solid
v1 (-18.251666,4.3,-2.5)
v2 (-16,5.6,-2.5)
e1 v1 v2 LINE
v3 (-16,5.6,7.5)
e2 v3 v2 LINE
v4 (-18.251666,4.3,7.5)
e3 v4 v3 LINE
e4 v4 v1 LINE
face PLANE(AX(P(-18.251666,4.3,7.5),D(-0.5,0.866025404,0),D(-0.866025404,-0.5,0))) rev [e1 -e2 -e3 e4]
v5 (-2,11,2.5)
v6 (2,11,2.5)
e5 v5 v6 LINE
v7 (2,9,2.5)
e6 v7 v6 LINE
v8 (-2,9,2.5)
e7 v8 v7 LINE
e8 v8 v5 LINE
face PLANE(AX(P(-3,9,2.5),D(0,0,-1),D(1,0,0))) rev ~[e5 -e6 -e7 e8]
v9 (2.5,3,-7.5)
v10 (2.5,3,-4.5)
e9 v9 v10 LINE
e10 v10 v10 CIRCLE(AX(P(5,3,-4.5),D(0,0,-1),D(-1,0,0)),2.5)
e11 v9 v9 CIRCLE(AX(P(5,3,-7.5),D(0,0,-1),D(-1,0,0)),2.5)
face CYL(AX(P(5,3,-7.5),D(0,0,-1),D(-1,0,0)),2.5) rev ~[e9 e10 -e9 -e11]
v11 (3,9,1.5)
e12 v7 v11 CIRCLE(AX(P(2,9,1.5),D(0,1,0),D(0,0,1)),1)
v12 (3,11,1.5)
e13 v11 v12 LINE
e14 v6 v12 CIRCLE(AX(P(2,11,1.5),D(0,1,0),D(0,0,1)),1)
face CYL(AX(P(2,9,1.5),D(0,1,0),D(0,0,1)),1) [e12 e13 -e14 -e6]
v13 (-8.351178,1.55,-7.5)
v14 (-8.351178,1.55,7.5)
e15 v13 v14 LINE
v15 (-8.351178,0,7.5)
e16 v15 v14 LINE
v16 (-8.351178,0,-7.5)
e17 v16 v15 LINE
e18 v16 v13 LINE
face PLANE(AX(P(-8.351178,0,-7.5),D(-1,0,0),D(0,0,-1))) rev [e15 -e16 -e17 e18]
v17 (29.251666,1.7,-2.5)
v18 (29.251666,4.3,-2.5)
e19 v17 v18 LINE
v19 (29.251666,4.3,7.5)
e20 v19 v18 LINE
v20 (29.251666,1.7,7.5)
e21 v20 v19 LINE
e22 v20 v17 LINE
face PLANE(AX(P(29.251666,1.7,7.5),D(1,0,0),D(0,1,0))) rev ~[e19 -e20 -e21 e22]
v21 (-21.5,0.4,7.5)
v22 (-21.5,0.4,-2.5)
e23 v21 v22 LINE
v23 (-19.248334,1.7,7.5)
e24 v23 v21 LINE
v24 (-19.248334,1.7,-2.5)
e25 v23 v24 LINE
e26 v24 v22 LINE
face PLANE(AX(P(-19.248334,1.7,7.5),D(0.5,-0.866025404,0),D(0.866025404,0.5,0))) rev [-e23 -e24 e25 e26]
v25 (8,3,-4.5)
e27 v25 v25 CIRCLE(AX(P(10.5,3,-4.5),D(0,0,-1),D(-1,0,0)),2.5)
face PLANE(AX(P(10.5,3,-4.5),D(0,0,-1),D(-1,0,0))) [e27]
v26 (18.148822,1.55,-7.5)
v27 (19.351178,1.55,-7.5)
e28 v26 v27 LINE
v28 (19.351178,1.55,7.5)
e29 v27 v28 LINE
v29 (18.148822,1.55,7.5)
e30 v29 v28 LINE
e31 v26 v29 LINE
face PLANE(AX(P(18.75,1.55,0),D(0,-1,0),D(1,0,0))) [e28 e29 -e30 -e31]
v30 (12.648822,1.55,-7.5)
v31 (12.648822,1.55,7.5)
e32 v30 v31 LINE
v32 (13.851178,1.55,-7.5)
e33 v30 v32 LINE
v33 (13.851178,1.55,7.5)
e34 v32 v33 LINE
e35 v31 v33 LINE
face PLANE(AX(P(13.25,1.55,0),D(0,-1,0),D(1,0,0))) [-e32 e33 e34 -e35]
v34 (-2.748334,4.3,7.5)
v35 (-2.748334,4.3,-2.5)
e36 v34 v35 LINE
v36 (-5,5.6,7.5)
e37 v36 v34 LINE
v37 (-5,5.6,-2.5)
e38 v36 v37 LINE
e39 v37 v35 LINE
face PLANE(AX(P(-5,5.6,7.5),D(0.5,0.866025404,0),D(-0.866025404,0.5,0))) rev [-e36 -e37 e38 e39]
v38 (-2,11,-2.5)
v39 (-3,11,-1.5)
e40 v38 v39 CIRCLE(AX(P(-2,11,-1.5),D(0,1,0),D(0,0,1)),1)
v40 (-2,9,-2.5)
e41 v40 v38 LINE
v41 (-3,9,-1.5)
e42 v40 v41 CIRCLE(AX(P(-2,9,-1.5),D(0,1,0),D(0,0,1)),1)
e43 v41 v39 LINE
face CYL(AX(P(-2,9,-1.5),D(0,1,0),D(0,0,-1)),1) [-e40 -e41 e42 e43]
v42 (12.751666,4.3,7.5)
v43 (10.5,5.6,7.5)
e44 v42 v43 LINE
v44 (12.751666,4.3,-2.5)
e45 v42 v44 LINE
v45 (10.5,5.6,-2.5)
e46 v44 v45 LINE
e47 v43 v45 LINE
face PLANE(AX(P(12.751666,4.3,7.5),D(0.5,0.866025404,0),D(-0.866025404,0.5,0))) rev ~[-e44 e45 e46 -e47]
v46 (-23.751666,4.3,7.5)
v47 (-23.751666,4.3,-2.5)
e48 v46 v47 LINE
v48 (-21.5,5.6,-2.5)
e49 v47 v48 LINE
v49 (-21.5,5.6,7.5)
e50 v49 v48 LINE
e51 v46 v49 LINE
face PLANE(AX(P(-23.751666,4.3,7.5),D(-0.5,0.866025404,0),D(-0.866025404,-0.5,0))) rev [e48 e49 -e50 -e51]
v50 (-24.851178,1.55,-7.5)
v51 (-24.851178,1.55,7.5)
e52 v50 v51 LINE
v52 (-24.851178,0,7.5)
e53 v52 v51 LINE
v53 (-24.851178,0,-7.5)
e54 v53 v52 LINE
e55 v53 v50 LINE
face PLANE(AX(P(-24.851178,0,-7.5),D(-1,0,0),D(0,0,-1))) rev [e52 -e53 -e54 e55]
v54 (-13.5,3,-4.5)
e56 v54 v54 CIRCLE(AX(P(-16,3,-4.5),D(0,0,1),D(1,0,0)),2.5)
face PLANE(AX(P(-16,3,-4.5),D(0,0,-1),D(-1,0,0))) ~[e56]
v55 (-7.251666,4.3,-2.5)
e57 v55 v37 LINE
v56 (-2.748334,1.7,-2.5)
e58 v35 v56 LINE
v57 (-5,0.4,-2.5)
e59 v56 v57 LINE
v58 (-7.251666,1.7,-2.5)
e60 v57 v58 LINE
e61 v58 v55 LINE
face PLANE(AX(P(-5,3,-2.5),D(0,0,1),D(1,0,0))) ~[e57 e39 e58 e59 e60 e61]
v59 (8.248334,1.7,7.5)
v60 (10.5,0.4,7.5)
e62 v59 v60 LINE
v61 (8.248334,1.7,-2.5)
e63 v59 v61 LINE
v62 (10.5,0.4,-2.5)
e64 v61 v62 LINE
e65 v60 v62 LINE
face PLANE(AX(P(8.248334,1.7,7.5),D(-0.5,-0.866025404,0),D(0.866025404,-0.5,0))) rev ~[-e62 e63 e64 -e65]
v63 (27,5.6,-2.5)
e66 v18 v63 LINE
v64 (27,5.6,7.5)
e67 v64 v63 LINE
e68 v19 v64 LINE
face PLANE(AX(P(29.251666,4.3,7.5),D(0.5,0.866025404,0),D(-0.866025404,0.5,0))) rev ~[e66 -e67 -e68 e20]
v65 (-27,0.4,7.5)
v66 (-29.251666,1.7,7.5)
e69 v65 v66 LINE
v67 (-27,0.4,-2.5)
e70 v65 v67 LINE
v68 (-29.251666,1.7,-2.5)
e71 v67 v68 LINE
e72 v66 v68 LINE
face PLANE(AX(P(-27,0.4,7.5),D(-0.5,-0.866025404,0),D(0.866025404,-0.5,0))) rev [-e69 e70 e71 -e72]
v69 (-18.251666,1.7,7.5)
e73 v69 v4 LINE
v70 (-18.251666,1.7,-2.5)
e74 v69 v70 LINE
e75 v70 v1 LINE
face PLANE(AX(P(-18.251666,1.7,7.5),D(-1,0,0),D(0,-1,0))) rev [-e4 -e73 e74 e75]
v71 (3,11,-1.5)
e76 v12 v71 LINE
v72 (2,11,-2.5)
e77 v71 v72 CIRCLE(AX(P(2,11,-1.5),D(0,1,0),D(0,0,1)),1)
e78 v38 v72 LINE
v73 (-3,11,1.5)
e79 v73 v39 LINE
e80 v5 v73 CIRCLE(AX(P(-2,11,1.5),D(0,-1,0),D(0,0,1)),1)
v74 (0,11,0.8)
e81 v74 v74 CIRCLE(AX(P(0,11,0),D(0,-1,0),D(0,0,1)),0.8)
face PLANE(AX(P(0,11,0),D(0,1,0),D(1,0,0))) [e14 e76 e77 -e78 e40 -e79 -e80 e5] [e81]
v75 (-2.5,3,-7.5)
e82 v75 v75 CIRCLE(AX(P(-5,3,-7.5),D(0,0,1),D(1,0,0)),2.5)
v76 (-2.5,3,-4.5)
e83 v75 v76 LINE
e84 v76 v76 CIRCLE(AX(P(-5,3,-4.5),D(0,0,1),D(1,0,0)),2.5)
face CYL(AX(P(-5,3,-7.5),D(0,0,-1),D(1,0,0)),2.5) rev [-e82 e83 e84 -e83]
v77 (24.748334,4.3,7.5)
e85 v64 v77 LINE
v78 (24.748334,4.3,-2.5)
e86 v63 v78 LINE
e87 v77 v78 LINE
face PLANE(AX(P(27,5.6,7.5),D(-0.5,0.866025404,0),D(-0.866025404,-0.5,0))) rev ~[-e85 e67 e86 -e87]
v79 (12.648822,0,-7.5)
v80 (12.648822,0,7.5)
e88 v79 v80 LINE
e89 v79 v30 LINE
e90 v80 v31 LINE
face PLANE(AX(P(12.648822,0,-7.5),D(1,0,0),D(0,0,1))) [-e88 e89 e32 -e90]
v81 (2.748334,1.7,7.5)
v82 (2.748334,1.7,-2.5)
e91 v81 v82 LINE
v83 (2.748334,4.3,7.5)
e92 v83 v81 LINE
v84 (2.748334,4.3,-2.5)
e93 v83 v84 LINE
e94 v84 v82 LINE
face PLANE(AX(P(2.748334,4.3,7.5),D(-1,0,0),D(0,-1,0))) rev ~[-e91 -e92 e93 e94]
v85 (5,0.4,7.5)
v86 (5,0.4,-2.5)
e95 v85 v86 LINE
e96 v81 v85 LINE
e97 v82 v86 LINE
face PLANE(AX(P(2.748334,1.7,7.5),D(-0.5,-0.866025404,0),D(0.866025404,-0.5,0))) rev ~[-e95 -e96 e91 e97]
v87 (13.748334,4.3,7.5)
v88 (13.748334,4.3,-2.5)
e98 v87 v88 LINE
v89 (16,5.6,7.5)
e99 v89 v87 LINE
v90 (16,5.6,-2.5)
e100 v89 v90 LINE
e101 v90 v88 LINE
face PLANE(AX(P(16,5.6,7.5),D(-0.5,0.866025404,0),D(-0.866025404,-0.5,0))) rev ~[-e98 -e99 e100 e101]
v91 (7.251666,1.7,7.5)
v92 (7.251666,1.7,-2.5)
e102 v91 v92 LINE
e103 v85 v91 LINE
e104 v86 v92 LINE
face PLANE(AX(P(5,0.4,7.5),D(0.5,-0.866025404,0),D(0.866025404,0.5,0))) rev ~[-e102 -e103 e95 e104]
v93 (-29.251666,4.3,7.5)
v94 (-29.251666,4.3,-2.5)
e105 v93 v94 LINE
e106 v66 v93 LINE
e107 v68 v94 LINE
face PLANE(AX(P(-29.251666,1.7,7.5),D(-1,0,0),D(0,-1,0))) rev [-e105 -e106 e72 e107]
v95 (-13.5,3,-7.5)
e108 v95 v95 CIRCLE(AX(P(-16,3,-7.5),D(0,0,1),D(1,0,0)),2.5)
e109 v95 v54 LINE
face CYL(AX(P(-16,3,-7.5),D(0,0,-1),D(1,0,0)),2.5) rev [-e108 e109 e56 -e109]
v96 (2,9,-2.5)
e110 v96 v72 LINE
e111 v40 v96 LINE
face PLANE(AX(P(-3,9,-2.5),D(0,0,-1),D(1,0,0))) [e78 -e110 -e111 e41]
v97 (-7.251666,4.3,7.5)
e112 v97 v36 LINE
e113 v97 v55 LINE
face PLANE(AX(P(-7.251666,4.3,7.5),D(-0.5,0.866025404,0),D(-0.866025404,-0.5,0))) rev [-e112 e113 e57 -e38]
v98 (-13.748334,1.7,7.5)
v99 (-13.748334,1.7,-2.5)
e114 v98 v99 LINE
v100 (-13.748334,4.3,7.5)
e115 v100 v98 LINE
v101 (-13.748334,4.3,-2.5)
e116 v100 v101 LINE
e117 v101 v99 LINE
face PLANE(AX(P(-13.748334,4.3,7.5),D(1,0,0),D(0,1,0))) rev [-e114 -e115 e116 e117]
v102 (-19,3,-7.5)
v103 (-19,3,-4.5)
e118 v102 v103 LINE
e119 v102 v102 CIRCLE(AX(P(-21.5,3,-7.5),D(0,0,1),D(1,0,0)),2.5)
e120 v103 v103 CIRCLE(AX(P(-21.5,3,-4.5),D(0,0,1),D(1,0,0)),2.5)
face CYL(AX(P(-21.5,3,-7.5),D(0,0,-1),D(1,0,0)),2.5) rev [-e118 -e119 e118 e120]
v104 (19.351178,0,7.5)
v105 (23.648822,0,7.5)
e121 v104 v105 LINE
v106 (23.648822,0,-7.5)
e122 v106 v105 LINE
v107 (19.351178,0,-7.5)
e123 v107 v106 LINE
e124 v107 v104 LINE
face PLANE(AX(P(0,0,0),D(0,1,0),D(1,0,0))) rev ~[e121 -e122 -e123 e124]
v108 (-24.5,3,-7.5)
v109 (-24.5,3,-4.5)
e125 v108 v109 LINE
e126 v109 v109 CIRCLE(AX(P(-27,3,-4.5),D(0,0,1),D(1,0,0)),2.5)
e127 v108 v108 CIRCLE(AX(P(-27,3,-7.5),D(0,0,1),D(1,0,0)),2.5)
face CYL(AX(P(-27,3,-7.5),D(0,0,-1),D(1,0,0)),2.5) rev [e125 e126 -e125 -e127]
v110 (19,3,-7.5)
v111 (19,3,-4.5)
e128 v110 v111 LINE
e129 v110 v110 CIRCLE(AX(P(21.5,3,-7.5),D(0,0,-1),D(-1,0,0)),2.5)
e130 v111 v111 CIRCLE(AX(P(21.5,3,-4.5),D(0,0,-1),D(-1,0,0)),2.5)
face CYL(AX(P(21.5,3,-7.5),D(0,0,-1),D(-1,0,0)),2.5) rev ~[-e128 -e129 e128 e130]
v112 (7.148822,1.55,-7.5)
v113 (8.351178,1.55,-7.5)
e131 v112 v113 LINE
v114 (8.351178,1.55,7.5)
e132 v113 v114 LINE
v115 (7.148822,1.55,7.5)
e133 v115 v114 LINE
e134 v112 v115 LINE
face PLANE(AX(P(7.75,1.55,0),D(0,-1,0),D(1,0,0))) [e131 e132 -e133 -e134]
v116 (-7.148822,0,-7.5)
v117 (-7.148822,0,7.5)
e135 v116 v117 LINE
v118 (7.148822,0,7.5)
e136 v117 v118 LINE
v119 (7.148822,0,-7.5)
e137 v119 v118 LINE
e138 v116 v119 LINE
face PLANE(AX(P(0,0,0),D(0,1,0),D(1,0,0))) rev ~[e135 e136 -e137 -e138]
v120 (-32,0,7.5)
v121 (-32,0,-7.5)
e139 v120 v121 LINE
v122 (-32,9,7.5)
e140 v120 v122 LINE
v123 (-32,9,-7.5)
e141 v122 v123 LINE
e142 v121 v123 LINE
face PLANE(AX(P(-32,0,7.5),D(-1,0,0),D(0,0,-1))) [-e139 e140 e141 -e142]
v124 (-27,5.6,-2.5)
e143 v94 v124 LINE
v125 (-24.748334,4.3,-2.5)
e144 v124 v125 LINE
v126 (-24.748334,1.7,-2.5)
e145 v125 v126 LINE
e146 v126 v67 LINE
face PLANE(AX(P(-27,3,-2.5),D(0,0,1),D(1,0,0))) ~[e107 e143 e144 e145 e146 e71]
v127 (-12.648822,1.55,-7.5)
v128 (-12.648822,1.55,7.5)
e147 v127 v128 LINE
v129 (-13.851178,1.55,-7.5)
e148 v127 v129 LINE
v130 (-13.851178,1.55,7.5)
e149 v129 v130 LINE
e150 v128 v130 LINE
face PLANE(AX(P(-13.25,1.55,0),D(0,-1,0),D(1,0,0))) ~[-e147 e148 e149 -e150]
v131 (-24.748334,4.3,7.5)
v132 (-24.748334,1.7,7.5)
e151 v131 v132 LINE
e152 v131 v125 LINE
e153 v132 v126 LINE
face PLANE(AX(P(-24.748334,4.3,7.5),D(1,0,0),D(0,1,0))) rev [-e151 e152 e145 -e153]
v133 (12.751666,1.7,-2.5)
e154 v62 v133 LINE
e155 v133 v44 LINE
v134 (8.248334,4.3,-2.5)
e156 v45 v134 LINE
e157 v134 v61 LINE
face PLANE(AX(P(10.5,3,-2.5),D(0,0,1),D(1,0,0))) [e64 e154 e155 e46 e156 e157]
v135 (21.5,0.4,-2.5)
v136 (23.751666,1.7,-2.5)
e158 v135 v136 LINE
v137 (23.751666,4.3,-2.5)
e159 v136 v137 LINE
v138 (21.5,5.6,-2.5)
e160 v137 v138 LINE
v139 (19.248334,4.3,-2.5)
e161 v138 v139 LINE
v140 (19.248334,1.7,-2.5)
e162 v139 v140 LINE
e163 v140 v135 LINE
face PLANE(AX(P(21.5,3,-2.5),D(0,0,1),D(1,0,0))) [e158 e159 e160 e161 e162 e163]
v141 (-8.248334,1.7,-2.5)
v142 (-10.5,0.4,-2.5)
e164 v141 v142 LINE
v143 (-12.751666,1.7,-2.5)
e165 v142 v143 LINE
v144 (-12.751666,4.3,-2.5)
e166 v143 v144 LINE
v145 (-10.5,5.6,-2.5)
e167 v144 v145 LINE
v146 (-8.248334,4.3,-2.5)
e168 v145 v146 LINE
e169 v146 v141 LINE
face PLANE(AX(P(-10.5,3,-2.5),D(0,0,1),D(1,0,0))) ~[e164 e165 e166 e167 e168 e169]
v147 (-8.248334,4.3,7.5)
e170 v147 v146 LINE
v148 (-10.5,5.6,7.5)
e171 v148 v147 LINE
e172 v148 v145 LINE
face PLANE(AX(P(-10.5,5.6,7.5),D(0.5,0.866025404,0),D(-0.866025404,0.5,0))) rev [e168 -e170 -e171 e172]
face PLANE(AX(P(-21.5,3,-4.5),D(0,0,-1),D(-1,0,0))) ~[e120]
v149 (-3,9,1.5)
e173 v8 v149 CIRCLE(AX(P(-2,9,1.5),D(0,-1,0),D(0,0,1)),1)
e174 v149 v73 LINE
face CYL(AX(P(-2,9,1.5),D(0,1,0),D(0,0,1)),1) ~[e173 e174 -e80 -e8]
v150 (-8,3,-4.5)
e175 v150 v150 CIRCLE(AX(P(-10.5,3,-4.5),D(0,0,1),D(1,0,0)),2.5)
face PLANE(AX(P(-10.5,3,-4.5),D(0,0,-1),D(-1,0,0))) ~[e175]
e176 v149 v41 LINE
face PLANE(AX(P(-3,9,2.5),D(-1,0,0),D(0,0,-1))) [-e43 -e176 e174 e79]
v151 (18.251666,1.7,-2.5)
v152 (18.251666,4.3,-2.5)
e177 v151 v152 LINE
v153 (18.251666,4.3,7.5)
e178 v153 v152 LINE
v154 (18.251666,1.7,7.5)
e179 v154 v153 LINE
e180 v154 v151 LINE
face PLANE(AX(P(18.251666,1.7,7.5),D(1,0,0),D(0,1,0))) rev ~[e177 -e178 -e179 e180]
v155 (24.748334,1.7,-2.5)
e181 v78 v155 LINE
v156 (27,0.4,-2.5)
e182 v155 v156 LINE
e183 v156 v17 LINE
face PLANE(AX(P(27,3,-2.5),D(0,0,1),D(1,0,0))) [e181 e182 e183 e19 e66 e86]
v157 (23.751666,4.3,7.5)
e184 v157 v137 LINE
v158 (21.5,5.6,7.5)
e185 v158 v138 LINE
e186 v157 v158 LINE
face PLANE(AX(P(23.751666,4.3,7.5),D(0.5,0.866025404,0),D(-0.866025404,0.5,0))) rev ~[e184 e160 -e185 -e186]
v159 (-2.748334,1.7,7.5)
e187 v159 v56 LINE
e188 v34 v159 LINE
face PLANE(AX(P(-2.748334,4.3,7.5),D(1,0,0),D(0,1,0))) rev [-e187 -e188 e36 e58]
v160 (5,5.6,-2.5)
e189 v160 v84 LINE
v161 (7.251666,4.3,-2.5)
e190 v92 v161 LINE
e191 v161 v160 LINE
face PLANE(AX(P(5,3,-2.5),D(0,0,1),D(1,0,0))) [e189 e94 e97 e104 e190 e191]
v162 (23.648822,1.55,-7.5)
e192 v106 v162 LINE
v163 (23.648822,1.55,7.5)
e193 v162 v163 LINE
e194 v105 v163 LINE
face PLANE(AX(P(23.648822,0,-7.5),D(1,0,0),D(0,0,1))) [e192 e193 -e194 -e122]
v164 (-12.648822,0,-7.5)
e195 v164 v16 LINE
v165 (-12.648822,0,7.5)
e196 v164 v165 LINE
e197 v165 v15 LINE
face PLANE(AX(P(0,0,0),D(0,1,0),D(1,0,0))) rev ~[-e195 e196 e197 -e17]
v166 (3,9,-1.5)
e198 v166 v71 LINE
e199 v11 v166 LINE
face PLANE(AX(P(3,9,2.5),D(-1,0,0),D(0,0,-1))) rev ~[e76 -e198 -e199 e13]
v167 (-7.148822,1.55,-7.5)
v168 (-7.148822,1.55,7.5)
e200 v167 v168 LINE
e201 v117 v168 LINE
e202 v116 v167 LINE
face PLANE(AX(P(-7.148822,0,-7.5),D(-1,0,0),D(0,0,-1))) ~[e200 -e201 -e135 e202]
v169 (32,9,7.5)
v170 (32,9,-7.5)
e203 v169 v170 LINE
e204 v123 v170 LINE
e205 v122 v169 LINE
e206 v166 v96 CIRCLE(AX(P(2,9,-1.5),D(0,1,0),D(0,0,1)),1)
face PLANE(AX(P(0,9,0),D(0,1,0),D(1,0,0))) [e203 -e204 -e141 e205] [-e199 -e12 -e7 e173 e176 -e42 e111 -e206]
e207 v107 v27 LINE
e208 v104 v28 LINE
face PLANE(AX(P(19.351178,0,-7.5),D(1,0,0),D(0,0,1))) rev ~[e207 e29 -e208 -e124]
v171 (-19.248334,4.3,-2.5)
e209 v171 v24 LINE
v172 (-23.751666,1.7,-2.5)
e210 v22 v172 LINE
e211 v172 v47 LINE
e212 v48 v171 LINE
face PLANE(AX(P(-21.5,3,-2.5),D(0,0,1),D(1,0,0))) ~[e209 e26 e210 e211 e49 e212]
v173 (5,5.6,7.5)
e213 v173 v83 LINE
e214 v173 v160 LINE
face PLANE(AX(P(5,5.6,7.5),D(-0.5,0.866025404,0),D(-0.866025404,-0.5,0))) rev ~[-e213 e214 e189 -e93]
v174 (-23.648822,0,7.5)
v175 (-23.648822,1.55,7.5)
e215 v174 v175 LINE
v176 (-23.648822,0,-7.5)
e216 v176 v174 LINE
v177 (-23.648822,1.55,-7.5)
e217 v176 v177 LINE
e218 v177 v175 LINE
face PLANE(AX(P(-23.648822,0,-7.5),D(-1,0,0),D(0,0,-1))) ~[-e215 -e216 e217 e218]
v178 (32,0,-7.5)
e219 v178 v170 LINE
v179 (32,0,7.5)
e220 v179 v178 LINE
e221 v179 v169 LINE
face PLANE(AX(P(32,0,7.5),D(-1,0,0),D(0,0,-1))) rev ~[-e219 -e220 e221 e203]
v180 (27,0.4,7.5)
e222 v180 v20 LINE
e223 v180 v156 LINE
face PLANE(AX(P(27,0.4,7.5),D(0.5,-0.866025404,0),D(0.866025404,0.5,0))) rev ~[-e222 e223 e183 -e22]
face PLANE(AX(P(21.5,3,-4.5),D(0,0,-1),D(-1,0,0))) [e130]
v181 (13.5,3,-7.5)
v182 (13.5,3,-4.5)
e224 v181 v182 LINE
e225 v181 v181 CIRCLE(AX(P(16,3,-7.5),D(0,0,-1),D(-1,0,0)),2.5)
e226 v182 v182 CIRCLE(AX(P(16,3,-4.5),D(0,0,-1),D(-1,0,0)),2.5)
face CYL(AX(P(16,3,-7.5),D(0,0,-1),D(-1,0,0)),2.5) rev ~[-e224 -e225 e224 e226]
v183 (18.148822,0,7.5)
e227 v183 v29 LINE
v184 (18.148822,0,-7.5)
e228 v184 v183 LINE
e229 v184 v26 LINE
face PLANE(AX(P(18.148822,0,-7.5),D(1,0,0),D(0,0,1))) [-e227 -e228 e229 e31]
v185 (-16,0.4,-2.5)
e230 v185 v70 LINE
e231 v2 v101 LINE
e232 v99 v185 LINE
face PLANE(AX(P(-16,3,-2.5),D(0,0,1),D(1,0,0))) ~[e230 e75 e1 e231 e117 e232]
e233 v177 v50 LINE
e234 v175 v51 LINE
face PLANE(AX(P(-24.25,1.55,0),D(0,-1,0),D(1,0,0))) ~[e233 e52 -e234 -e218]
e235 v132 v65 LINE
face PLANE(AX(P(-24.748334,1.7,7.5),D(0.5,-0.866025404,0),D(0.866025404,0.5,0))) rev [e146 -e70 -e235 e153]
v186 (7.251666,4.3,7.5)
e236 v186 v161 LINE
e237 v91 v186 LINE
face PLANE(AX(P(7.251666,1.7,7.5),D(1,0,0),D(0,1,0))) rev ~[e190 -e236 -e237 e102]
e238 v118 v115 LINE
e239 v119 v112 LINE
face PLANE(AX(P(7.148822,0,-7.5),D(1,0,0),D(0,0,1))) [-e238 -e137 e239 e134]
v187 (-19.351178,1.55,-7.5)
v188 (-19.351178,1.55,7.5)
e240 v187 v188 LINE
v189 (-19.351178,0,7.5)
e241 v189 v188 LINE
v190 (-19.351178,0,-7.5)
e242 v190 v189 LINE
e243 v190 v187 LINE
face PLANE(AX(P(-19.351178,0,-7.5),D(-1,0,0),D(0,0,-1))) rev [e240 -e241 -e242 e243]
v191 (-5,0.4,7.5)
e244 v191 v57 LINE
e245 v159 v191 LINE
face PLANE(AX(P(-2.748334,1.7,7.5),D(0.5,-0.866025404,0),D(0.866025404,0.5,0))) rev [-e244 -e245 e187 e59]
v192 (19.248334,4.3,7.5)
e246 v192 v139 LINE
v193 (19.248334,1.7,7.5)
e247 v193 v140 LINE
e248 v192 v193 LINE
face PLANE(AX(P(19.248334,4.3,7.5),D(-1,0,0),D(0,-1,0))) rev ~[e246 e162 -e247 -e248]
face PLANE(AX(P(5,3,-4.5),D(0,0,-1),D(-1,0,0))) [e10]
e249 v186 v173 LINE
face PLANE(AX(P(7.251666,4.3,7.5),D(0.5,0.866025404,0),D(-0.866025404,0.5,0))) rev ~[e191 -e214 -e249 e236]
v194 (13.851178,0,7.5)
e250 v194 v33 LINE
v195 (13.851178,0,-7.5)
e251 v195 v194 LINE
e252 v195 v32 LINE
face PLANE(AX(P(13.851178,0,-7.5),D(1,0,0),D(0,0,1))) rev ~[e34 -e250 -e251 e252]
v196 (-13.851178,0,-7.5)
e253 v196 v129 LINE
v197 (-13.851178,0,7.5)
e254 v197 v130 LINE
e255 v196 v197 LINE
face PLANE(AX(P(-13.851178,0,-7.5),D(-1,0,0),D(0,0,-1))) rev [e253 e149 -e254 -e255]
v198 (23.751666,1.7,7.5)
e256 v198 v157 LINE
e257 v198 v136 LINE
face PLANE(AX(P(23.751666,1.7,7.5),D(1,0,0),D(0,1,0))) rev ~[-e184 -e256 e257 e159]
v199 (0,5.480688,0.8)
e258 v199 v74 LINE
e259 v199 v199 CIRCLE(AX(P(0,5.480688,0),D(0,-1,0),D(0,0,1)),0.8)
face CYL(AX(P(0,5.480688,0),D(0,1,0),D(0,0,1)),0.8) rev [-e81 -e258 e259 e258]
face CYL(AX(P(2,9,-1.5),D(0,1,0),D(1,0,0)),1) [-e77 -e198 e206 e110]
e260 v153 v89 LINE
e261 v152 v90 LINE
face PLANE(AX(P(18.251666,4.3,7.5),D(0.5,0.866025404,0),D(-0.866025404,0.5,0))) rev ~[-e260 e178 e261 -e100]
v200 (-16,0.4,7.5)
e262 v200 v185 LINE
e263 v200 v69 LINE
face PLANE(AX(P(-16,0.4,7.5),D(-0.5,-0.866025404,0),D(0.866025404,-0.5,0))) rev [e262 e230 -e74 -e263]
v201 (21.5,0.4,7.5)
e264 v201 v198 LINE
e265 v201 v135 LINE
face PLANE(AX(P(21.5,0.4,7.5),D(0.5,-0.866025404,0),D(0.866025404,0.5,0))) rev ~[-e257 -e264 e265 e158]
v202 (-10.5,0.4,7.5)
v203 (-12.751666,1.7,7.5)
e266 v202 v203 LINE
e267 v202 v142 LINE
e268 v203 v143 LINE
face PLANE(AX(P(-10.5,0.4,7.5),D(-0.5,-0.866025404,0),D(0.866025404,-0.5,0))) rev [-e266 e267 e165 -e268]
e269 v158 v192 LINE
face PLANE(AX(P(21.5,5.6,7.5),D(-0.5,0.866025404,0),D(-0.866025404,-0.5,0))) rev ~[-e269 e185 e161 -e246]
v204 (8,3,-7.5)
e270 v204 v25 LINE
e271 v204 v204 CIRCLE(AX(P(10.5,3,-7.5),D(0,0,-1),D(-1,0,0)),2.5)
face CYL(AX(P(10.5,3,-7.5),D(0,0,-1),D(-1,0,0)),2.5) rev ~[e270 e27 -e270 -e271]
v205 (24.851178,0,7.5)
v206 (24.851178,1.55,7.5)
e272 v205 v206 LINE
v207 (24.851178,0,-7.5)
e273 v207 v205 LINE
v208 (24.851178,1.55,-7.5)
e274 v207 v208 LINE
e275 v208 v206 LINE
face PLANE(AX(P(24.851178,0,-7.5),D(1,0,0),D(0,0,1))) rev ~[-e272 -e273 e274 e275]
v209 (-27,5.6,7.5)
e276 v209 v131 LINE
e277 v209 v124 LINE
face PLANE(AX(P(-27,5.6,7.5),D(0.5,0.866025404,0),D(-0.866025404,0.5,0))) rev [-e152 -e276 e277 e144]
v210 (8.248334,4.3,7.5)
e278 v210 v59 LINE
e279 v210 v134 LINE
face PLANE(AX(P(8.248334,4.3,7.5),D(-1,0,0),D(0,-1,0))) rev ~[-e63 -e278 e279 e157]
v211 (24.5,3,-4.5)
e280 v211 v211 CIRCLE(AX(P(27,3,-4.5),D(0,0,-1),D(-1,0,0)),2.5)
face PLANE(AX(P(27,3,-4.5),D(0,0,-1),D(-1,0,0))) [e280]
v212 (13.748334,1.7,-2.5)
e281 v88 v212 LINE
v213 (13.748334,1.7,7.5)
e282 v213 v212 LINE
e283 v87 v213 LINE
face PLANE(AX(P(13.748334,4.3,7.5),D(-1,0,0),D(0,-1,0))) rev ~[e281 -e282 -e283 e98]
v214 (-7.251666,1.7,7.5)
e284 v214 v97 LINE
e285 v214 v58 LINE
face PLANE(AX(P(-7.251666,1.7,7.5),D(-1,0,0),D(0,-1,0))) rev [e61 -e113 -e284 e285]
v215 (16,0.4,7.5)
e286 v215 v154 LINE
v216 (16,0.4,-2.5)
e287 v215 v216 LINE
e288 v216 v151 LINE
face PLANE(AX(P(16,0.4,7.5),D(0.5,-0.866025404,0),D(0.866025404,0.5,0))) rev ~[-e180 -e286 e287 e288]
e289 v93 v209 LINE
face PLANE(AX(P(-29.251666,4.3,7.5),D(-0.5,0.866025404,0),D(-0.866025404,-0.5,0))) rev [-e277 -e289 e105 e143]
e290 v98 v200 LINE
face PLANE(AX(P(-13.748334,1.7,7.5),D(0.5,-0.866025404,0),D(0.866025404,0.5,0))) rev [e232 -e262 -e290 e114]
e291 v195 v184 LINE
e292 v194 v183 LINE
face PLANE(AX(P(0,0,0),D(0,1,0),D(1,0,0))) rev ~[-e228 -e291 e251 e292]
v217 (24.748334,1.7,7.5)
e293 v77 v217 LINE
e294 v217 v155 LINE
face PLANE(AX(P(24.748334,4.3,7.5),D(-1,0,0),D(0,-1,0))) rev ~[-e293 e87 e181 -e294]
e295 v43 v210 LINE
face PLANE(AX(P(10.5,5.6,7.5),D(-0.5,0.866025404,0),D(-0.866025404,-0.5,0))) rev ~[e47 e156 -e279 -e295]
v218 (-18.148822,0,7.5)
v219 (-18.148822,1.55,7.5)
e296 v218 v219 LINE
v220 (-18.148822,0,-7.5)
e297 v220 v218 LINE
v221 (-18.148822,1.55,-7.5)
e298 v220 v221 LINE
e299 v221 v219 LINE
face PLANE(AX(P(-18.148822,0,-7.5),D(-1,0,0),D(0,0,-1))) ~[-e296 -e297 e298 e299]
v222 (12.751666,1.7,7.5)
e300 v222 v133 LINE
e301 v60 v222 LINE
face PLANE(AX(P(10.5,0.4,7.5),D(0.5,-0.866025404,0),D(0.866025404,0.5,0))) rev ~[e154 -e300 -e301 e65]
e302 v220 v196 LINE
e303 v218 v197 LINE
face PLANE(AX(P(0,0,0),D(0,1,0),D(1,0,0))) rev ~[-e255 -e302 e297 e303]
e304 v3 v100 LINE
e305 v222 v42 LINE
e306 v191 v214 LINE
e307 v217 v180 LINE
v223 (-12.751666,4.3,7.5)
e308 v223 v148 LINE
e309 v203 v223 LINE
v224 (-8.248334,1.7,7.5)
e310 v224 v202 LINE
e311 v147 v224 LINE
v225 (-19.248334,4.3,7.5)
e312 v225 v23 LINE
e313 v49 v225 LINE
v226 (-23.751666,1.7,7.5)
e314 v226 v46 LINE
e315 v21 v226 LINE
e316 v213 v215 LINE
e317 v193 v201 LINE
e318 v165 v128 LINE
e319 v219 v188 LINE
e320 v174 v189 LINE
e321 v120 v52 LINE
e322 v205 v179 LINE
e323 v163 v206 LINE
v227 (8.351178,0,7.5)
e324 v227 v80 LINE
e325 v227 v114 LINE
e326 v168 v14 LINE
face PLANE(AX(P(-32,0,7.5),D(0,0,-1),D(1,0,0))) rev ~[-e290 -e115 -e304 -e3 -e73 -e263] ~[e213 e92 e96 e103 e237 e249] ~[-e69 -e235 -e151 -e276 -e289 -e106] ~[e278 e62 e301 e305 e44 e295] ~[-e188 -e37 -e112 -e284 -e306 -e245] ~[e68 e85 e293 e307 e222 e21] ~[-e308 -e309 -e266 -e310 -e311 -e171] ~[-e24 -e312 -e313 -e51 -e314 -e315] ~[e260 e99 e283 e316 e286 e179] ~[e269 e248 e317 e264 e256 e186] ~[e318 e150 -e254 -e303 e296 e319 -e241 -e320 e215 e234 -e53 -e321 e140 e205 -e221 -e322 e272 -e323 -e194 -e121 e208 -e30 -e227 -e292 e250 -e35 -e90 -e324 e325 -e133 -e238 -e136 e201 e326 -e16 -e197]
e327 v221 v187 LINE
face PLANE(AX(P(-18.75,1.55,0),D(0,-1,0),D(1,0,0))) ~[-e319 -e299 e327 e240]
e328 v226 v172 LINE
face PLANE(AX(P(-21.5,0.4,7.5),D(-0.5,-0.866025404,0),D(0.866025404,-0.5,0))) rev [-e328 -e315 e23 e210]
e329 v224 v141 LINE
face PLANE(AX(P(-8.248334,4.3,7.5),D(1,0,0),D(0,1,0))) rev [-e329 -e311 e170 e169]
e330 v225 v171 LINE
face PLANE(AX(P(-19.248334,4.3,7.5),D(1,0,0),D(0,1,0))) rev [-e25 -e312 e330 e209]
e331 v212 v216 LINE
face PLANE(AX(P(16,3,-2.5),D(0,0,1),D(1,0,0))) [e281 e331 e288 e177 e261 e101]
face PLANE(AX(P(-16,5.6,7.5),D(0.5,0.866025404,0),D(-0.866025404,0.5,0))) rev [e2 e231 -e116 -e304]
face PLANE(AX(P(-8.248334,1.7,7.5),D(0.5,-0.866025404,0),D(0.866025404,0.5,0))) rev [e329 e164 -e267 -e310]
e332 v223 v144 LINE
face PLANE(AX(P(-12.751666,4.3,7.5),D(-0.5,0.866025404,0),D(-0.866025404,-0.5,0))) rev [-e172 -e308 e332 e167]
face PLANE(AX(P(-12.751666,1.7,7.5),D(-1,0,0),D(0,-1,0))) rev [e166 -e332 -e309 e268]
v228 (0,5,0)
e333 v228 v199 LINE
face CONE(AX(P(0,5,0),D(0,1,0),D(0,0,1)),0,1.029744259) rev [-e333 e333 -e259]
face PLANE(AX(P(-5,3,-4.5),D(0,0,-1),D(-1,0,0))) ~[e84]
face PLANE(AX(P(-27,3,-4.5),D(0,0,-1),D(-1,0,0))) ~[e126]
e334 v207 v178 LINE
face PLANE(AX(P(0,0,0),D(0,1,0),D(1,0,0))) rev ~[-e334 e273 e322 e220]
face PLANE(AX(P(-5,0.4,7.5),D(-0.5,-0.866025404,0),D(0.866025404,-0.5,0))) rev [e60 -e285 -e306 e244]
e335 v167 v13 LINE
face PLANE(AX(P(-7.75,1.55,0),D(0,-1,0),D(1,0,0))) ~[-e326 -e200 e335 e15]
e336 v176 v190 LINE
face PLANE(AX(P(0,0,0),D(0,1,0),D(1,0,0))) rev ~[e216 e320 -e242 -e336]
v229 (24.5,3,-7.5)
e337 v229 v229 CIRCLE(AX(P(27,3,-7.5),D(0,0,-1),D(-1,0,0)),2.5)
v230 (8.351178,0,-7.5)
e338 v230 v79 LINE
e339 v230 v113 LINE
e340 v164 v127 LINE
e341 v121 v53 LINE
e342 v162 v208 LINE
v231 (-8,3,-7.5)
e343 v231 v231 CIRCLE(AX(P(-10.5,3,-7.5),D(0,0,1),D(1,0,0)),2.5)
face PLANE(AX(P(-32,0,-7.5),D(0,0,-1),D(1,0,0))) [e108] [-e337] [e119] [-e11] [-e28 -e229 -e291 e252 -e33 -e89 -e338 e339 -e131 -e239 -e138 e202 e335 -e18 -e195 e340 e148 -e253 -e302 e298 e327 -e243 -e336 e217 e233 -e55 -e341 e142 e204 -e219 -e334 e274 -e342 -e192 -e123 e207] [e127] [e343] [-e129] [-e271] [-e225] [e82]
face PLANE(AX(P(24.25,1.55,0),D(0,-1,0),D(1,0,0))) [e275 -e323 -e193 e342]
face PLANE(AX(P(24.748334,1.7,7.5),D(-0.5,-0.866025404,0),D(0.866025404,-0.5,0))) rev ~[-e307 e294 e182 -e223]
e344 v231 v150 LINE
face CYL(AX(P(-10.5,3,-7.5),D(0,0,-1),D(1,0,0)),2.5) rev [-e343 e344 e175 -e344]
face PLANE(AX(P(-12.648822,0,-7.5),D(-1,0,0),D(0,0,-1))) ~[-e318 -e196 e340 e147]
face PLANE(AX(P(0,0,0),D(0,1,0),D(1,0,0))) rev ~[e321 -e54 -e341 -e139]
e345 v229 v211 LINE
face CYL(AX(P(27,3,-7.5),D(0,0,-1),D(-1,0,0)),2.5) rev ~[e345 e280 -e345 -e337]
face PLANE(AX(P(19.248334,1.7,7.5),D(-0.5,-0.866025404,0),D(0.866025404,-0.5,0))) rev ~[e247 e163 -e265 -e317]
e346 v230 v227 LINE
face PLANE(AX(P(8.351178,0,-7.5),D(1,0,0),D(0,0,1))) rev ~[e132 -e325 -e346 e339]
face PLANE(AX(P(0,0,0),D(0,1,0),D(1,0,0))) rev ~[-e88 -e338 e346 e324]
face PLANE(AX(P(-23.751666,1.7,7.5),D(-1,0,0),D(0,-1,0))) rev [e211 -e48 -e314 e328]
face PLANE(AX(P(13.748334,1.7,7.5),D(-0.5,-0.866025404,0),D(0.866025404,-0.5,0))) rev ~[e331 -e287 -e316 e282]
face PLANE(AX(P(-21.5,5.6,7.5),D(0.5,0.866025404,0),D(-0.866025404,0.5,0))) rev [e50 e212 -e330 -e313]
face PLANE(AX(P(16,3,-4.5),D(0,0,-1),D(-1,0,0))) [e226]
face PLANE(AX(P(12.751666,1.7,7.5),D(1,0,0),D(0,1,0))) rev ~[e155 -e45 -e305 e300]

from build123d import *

# Parameters (mm, degrees)
SKETCH1_W           = 64
SKETCH1_H           = 15
BOSS_EXTRUDE1_DEPTH = 9
CUT_EXTRUDE1_DEPTH  = 10
SKETCH3_R           = 2.5
CUT_EXTRUDE2_DEPTH  = 3
SKETCH4_W           = 6
SKETCH4_H           = 5
BOSS_EXTRUDE2_DEPTH = 2
FILLET1_R           = 1
SKETCH9_W           = 1.20235501
SKETCH9_H           = 15
CUT_EXTRUDE3_DEPTH  = 1.55


with BuildPart() as part:
    # Sketch1 → Boss-Extrude1 (new body)
    with BuildSketch(Plane(origin=(0, 0, 0), x_dir=(1, 0, 0), z_dir=(0, 1, 0))):
        Rectangle(SKETCH1_W, SKETCH1_H)
    extrude(amount=BOSS_EXTRUDE1_DEPTH)

    # Sketch2 → Cut-Extrude1 (cut)
    with BuildSketch(Plane.XY.offset(7.5)):
        Polygon((8.24833395, 4.3), (8.24833395, 1.7), (10.5, 0.4), (12.75166605, 1.7), (12.75166605, 4.3), (10.5, 5.6), align=None)
        Polygon((13.74833395, 4.3), (13.74833395, 1.7), (16, 0.4), (18.25166605, 1.7), (18.25166605, 4.3), (16, 5.6), align=None)
        Polygon((19.24833395, 4.3), (19.24833395, 1.7), (21.5, 0.4), (23.75166605, 1.7), (23.75166605, 4.3), (21.5, 5.6), align=None)
        Polygon((24.74833395, 4.3), (24.74833395, 1.7), (27, 0.4), (29.25166605, 1.7), (29.25166605, 4.3), (27, 5.6), align=None)
        Polygon((2.74833395, 4.3), (2.74833395, 1.7), (5, 0.4), (7.25166605, 1.7), (7.25166605, 4.3), (5, 5.6), align=None)
    cut_extrude1 = extrude(amount=-CUT_EXTRUDE1_DEPTH, mode=Mode.SUBTRACT)

    # Mirror1: Cut-Extrude1 across plane
    add(cut_extrude1.mirror(Plane(origin=(0, 0, 0), x_dir=(0, 0, 1), z_dir=(1, 0, 0))), mode=Mode.SUBTRACT)

    # Sketch3 → Cut-Extrude2 (cut)
    with BuildSketch(Plane(origin=(0, 0, -7.5), x_dir=(-1, 0, 0), z_dir=(0, 0, -1))):
        with Locations((-5, 3)):
            Circle(SKETCH3_R)
        with Locations((-10.5, 3)):
            Circle(SKETCH3_R)
        with Locations((-16, 3)):
            Circle(SKETCH3_R)
        with Locations((-21.5, 3)):
            Circle(SKETCH3_R)
        with Locations((-27, 3)):
            Circle(SKETCH3_R)
    cut_extrude2 = extrude(amount=-CUT_EXTRUDE2_DEPTH, mode=Mode.SUBTRACT)

    # Mirror2: Cut-Extrude2 across plane
    add(cut_extrude2.mirror(Plane(origin=(0, 0, 0), x_dir=(0, 0, 1), z_dir=(1, 0, 0))), mode=Mode.SUBTRACT)

    # Sketch4 → Boss-Extrude2 (add)
    with BuildSketch(Plane(origin=(0, 9, 0), x_dir=(1, 0, 0), z_dir=(0, 1, 0))):
        Rectangle(SKETCH4_W, SKETCH4_H)
    extrude(amount=BOSS_EXTRUDE2_DEPTH)

    # Fillet1
    fillet1_edges = [part.edges().sort_by_distance(p)[0] for p in [
        (-3, 10, 2.5),
        (3, 10, 2.5),
        (3, 10, -2.5),
        (-3, 10, -2.5),
    ]]
    fillet(fillet1_edges, radius=FILLET1_R)

    # Sketch7 → M2 Tapped Hole2 (revolve, cut)
    with BuildSketch(Plane(origin=(0, 11, 0), x_dir=(0, 0, 1), z_dir=(1, 0, 0))):
        Polygon((0, 0), (0, 6), (0.8, 5.519311505), (0.8, 0), align=None)
    revolve(axis=Axis((0, 17.35, 0), (0, -1, 0)), mode=Mode.SUBTRACT)

    # Sketch9 → Cut-Extrude3 (cut)
    with BuildSketch(Plane.XZ):
        with Locations((7.75, 0)):
            Rectangle(SKETCH9_W, SKETCH9_H)
        with Locations((13.25, 0)):
            Rectangle(SKETCH9_W, SKETCH9_H)
        with Locations((18.75, 0)):
            Rectangle(SKETCH9_W, SKETCH9_H)
        with Locations((24.25, 0)):
            Rectangle(SKETCH9_W, SKETCH9_H)
    cut_extrude3 = extrude(amount=-CUT_EXTRUDE3_DEPTH, mode=Mode.SUBTRACT)

    # Mirror3: Cut-Extrude3 across plane
    add(cut_extrude3.mirror(Plane(origin=(0, 0, 0), x_dir=(0, 0, 1), z_dir=(1, 0, 0))), mode=Mode.SUBTRACT)


solid = part.part
